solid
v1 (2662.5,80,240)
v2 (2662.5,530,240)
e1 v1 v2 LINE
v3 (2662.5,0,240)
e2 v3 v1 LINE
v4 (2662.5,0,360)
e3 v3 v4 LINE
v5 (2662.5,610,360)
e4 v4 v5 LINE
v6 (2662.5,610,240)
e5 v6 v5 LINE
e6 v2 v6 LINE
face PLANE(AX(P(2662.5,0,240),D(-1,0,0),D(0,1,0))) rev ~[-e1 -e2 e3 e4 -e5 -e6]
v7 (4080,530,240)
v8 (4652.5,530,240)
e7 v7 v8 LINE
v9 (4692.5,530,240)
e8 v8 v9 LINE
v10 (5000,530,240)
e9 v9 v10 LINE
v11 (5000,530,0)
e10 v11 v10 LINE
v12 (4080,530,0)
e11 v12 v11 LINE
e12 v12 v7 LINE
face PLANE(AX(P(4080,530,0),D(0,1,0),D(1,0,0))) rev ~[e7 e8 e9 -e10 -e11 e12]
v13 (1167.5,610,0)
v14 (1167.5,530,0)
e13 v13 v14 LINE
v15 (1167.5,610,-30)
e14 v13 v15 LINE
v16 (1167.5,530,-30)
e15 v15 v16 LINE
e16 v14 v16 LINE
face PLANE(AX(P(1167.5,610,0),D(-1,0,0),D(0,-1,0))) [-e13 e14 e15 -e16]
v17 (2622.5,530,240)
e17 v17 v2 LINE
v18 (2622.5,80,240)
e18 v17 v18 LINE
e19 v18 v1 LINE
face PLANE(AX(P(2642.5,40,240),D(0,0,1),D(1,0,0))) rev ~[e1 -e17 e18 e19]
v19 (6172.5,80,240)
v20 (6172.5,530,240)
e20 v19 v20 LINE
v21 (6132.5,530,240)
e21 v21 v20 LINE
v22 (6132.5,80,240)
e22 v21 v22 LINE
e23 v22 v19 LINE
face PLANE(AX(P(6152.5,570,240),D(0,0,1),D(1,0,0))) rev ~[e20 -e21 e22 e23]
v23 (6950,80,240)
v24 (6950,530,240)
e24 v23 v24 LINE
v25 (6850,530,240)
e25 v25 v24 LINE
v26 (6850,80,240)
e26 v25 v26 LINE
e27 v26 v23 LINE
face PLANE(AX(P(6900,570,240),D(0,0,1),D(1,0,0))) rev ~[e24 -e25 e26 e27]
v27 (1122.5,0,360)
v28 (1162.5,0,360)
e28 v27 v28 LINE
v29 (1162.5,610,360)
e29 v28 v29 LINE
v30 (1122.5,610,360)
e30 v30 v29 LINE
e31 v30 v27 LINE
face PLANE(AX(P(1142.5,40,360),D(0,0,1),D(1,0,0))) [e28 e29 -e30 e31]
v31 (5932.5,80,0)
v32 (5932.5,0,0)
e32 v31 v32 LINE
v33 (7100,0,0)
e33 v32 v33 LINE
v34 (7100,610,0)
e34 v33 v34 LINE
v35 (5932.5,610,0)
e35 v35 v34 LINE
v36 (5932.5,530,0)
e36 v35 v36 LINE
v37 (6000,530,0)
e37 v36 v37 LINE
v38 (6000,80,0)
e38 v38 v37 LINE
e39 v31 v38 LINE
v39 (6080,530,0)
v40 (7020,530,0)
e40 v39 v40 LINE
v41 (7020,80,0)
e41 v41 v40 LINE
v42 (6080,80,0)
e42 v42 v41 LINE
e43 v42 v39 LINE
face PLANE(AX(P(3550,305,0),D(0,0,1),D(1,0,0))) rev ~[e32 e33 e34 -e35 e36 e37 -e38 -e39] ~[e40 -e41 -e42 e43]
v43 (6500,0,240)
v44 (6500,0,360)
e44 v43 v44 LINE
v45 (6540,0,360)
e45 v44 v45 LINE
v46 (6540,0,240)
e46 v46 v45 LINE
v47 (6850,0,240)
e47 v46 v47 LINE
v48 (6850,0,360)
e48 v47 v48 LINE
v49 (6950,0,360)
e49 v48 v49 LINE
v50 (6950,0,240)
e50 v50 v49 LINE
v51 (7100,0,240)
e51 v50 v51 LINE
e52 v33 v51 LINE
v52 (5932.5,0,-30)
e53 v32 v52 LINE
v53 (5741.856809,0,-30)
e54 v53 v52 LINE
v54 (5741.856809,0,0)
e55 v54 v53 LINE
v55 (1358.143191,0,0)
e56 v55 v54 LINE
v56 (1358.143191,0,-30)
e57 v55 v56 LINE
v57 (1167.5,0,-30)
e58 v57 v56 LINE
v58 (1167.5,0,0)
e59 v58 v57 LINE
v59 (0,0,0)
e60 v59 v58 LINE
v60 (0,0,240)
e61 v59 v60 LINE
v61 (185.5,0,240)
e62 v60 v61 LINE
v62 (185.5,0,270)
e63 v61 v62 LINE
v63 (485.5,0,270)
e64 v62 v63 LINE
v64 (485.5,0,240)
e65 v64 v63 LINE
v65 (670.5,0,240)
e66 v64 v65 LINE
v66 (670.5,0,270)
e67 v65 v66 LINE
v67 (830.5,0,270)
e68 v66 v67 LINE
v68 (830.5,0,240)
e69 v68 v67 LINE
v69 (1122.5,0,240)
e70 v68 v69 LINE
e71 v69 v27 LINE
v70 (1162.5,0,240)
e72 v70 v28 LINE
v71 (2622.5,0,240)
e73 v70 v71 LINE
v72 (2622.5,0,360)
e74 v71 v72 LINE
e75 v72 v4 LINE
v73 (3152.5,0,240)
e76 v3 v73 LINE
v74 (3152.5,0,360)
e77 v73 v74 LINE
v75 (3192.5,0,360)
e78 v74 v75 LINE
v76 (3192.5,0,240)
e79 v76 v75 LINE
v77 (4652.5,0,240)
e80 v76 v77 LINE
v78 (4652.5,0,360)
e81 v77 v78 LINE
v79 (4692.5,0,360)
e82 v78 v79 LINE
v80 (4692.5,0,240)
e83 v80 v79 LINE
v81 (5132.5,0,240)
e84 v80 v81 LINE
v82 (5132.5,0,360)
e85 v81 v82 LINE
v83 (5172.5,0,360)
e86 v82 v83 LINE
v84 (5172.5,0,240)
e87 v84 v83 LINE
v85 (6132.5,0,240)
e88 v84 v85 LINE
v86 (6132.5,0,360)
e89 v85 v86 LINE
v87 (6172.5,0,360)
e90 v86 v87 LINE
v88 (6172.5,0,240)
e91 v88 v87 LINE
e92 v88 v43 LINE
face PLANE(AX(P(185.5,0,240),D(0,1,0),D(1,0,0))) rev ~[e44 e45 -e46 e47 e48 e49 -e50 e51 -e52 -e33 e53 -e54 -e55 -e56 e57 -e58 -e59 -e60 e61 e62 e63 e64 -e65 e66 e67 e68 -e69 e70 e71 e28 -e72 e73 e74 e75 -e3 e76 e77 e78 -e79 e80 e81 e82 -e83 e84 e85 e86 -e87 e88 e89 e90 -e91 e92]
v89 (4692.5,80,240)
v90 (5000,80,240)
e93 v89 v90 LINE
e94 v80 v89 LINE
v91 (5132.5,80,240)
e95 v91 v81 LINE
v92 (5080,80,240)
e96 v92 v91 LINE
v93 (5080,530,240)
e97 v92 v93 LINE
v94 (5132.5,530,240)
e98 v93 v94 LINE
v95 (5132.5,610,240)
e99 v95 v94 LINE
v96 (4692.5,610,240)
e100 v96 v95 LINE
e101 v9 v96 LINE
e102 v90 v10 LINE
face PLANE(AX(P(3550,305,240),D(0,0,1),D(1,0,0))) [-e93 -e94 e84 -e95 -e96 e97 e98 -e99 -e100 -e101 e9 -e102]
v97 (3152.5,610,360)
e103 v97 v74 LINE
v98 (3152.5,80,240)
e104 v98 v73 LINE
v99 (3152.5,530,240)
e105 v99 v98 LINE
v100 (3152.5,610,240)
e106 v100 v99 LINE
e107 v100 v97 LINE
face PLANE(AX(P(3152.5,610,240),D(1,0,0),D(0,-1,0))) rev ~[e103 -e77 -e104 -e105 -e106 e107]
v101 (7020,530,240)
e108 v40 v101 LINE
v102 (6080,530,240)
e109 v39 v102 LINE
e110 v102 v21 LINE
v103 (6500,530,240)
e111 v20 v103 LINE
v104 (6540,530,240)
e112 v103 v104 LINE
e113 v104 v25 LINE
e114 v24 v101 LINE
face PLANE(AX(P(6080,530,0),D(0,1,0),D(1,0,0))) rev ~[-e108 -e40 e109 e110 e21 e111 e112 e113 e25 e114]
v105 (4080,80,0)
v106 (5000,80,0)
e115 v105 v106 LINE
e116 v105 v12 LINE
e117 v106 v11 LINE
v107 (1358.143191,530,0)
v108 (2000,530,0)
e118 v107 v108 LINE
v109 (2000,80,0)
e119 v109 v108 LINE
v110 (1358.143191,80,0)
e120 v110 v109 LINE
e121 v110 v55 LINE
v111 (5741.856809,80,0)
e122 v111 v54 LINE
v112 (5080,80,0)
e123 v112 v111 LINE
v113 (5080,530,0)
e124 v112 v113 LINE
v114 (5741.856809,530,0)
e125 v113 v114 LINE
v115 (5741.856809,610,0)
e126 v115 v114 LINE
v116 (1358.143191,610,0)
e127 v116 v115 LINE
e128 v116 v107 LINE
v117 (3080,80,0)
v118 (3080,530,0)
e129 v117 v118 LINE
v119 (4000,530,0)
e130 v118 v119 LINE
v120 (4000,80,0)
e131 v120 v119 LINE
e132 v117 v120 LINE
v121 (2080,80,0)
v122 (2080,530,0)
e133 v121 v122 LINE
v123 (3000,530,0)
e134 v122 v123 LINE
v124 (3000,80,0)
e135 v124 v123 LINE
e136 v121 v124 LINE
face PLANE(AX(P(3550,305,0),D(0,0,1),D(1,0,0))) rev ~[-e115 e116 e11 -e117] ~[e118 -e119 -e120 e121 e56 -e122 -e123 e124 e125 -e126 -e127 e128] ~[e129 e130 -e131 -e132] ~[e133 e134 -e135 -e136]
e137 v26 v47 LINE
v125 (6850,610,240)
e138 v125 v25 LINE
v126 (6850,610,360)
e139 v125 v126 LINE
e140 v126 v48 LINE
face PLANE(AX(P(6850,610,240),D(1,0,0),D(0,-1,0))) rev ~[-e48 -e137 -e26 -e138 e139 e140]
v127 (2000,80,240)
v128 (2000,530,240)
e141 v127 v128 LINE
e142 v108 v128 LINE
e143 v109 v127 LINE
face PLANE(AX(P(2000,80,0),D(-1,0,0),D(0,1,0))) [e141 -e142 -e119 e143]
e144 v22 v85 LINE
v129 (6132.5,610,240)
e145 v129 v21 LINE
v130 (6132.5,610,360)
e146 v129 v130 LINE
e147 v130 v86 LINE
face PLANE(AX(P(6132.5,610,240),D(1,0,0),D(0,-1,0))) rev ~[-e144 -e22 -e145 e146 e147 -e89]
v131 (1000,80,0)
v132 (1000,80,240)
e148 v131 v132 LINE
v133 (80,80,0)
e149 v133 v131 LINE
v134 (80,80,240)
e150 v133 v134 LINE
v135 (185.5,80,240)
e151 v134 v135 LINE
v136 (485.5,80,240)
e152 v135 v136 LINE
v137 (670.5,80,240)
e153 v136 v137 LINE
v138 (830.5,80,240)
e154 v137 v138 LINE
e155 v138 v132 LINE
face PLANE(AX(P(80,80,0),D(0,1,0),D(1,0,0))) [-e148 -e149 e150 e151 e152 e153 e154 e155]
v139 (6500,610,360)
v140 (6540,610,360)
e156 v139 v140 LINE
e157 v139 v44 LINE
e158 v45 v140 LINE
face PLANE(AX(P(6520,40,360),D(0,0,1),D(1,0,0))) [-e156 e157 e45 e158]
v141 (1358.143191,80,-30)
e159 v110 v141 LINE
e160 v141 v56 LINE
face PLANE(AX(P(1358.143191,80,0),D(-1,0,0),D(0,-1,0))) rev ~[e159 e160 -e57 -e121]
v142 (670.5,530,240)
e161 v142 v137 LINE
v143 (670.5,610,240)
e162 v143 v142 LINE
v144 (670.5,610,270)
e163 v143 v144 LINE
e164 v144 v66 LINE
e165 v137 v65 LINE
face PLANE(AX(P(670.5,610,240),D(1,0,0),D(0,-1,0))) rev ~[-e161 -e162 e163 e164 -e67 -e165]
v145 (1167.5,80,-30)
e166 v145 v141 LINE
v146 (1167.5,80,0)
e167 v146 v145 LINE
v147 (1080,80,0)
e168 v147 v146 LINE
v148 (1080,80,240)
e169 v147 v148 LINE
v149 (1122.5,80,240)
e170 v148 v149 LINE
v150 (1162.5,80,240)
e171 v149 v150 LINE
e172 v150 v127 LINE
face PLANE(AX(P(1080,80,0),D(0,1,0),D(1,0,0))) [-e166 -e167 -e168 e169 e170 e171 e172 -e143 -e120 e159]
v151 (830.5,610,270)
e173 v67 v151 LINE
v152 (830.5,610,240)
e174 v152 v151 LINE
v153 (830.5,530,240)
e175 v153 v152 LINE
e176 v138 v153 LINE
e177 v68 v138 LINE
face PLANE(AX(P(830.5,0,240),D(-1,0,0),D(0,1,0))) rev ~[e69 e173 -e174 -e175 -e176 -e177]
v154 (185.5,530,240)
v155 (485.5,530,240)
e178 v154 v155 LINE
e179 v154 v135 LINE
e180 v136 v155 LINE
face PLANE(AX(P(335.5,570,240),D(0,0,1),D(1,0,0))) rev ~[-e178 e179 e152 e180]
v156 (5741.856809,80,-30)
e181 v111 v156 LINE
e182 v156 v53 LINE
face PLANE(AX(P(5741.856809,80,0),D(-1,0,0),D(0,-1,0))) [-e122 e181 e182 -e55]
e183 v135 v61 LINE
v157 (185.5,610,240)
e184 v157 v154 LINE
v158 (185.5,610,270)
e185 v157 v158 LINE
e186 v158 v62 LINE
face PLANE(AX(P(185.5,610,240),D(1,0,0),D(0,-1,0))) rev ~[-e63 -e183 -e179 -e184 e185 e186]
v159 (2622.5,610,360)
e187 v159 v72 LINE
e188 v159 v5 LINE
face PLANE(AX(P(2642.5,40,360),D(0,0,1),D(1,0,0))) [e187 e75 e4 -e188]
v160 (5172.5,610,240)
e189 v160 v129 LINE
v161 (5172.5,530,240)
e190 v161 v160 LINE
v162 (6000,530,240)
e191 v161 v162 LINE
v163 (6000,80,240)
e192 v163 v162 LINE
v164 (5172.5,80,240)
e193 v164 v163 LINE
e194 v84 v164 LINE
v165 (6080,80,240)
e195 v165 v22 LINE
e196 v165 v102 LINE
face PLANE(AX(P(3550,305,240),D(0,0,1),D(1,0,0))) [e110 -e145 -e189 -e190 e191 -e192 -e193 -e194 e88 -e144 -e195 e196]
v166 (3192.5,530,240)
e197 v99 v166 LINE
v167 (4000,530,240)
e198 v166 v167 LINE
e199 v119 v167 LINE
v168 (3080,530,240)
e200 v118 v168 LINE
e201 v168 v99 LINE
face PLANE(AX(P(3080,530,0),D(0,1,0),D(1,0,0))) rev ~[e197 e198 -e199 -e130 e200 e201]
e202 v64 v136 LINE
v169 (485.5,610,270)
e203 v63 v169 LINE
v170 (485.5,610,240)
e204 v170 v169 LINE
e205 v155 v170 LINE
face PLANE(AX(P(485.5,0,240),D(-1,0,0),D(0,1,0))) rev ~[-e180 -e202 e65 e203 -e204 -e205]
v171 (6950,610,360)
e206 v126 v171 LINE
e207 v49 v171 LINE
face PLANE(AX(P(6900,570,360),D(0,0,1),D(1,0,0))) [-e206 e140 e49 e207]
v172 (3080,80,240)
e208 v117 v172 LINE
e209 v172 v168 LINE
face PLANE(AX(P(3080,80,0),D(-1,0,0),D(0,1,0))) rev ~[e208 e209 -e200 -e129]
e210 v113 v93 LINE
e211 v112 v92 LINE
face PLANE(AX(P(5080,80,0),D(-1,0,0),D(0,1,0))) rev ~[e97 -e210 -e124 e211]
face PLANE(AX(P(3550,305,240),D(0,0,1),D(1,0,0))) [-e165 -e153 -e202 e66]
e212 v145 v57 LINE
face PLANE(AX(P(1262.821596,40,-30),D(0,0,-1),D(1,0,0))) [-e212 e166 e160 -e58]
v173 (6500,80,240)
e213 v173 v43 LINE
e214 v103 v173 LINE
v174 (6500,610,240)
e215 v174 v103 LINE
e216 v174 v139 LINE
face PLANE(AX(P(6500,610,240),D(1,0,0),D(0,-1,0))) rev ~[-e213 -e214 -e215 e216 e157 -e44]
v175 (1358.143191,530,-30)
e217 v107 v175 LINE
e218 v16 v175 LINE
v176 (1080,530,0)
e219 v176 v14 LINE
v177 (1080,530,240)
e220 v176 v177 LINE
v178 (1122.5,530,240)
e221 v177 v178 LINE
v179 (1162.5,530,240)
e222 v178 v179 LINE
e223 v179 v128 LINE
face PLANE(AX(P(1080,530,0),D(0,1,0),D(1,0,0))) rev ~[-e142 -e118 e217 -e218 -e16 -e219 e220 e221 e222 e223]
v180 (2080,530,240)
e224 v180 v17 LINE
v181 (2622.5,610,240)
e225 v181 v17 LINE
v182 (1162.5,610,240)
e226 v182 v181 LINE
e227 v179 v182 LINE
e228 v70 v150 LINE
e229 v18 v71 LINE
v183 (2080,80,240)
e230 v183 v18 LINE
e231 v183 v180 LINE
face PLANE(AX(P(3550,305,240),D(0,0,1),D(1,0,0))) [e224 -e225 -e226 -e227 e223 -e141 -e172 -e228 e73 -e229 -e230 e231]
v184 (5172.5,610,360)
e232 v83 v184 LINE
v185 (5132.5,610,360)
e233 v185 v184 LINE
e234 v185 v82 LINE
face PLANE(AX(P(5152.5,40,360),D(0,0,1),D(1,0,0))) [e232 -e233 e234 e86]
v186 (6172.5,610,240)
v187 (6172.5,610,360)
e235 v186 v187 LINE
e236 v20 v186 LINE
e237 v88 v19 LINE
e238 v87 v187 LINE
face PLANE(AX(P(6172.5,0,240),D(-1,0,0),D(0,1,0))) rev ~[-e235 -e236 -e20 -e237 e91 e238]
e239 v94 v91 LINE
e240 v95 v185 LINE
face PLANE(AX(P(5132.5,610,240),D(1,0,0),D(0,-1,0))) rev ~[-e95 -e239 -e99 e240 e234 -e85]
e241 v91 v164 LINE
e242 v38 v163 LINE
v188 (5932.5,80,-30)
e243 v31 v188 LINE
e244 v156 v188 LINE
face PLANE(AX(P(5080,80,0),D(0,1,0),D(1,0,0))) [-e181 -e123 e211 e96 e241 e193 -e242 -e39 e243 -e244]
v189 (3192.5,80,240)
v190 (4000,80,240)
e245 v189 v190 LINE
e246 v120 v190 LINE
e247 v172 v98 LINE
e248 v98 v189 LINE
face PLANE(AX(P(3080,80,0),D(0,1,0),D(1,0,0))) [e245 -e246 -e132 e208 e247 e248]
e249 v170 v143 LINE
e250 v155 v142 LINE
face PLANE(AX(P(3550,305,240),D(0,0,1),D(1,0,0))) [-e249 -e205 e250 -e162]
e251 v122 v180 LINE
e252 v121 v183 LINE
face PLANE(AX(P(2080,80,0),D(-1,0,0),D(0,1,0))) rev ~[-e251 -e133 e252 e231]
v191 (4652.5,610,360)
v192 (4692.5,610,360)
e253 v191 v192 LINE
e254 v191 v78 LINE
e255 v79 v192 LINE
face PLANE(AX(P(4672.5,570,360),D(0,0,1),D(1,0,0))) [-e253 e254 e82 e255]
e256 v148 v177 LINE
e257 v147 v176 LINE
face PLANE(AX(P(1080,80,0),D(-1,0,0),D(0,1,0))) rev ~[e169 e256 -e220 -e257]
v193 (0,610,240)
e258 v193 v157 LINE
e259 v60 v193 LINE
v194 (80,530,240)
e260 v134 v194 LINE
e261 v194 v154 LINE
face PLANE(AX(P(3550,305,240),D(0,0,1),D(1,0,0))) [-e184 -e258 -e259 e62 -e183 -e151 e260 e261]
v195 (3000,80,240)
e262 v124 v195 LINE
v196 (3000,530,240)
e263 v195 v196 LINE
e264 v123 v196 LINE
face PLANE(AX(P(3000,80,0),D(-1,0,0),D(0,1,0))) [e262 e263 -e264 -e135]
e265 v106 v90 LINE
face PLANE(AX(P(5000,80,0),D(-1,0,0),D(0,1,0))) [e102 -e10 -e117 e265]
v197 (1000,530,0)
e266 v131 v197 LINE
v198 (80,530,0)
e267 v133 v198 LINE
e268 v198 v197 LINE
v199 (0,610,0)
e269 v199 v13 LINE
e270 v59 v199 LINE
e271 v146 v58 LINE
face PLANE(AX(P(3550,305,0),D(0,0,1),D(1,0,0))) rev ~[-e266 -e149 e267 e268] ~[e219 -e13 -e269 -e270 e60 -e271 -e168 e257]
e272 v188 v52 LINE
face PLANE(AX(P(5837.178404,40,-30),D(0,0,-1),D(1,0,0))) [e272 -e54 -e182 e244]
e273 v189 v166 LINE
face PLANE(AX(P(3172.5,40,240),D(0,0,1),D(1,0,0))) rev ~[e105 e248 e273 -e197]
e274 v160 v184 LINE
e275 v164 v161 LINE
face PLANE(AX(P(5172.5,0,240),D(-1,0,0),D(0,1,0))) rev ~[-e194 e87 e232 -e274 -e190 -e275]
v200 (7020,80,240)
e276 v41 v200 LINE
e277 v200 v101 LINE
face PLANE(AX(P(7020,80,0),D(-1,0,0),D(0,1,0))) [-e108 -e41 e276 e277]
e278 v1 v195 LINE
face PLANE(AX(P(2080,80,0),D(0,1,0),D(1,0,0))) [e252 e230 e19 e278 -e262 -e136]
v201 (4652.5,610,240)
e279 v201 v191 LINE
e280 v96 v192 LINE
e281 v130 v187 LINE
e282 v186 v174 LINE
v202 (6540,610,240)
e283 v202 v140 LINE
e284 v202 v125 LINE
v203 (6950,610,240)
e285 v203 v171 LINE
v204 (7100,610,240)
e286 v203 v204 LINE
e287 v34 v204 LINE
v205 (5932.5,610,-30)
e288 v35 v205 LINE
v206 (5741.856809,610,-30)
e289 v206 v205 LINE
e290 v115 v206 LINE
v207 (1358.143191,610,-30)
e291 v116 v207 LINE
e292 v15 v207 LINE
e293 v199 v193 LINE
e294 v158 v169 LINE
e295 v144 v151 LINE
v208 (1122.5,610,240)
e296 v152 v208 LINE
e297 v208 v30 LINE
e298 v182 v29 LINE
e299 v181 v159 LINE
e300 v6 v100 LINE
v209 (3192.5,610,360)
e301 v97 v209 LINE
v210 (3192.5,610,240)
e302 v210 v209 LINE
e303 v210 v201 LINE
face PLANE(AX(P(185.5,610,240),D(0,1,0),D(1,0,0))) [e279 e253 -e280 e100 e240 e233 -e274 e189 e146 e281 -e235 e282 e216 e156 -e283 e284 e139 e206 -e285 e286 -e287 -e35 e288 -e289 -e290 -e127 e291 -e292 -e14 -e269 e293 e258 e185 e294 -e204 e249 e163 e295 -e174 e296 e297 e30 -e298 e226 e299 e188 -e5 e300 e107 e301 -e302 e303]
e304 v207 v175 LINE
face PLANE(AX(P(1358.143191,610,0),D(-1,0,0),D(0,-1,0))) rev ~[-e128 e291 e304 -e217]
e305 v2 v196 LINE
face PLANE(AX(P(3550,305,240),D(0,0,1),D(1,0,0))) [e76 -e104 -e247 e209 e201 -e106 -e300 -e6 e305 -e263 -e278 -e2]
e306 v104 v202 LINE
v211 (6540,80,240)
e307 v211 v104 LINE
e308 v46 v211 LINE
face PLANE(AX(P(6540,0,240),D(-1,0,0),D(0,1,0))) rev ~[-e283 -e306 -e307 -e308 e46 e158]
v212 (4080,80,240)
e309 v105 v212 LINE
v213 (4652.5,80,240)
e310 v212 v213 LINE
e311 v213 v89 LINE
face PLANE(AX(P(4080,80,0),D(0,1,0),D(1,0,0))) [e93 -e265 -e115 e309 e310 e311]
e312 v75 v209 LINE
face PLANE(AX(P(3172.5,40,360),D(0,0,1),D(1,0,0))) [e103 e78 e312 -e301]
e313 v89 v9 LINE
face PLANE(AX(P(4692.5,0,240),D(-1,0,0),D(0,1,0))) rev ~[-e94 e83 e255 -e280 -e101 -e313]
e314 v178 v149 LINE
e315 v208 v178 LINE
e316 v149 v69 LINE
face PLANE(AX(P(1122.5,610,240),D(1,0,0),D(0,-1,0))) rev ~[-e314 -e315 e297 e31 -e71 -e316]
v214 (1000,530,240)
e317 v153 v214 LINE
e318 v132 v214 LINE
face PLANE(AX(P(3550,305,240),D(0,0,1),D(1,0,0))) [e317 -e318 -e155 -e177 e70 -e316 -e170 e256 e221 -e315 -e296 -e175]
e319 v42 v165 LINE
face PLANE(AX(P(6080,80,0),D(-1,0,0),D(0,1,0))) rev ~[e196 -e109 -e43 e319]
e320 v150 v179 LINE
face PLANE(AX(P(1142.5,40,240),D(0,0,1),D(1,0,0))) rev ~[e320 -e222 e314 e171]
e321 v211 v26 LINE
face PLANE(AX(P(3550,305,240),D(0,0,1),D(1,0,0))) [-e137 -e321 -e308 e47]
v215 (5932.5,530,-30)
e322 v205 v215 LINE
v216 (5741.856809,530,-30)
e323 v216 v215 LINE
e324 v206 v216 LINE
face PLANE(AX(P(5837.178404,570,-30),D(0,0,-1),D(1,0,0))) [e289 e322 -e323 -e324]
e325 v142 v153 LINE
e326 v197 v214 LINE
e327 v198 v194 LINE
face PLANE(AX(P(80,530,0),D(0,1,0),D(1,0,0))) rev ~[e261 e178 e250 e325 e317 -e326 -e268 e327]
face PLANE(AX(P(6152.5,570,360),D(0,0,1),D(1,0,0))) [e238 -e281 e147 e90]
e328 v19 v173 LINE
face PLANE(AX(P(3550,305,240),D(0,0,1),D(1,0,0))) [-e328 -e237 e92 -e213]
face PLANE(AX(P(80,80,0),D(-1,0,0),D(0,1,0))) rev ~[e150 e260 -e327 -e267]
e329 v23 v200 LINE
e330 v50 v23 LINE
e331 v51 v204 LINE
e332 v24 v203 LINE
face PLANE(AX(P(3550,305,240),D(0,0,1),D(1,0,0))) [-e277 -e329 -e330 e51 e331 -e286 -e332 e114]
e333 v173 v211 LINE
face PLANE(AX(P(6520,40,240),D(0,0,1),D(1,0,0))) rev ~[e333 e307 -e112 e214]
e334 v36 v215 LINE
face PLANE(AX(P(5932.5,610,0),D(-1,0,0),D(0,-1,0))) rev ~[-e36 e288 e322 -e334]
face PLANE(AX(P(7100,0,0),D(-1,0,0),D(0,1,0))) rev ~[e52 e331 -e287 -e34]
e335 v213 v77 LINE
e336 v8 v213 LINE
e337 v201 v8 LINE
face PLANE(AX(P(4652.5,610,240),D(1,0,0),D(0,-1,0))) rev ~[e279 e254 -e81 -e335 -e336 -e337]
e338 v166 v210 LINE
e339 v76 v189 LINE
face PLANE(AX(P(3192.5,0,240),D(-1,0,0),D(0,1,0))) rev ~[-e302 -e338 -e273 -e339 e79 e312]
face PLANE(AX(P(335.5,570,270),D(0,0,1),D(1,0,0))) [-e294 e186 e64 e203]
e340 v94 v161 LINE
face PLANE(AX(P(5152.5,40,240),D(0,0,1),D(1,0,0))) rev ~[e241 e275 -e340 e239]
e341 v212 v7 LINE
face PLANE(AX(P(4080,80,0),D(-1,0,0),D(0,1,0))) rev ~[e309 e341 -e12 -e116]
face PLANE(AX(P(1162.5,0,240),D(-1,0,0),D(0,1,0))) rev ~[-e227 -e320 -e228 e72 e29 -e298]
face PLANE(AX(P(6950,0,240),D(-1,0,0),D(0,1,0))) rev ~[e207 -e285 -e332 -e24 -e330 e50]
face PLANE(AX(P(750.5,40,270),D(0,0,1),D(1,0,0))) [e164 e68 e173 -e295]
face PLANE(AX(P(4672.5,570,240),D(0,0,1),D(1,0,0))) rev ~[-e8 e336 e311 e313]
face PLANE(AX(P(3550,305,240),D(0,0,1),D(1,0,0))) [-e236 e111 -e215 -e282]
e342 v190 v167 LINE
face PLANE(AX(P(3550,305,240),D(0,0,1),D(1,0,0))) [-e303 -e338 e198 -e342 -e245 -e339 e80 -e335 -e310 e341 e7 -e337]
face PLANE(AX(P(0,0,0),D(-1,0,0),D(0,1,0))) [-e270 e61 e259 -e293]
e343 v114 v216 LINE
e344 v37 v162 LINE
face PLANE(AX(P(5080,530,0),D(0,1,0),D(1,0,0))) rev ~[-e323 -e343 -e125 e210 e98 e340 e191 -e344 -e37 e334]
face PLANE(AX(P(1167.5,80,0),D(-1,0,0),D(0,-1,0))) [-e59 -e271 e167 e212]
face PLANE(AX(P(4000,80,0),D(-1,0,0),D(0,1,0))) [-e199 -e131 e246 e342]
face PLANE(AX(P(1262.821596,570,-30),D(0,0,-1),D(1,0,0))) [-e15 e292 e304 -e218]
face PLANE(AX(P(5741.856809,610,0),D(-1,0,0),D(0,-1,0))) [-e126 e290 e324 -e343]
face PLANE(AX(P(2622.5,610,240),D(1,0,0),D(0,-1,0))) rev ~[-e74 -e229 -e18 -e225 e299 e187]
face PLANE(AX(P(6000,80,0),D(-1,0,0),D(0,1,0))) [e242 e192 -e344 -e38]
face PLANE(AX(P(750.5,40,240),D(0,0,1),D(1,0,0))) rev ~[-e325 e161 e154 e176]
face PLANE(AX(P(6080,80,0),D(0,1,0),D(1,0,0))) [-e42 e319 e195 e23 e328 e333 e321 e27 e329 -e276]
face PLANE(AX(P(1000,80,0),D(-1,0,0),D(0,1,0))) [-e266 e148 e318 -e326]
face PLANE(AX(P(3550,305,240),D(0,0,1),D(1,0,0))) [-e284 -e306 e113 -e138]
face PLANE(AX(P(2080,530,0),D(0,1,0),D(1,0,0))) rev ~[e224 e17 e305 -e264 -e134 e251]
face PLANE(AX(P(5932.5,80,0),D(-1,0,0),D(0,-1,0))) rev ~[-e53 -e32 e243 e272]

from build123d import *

# Parameters (mm, degrees)
F0_W     = 7100
F0_H     = 610
F0_W_2   = 920
F0_H_2   = 450
F0_W_3   = 940
F1_DEPTH = 240
F2_W     = 190.6431913376
F2_H     = 80
F3_DEPTH = 30
F4_W     = 100
F4_H     = 80
F4_H_2   = 450
F4_W_2   = 40
F5_DEPTH = 120
F4_W_3   = 300
F4_W_4   = 160
F6_DEPTH = 30


with BuildPart() as f1:
    # F0 (on Top) → F1 (new body)
    with BuildSketch(Plane.XY):
        with Locations((3550, 305)):
            Rectangle(F0_W, F0_H)
        with Locations((540, 305)):
            Rectangle(F0_W_2, F0_H_2, mode=Mode.SUBTRACT)
        with Locations((1540, 305)):
            Rectangle(F0_W_2, F0_H_2, mode=Mode.SUBTRACT)
        with Locations((2540, 305)):
            Rectangle(F0_W_2, F0_H_2, mode=Mode.SUBTRACT)
        with Locations((3540, 305)):
            Rectangle(F0_W_2, F0_H_2, mode=Mode.SUBTRACT)
        with Locations((4540, 305)):
            Rectangle(F0_W_2, F0_H_2, mode=Mode.SUBTRACT)
        with Locations((5540, 305)):
            Rectangle(F0_W_2, F0_H_2, mode=Mode.SUBTRACT)
        with Locations((6550, 305)):
            Rectangle(F0_W_3, F0_H_2, mode=Mode.SUBTRACT)
    extrude(amount=F1_DEPTH)

    # F2 (on face) → F3 (join)
    with BuildSketch(Plane(origin=(0, 0, 0), x_dir=(1, 0, 0), z_dir=(0, 0, -1))):
        with Locations((1262.8215956688, -40)):
            Rectangle(F2_W, F2_H)
        with Locations((1262.8215956688, -570)):
            Rectangle(F2_W, F2_H)
        with Locations((5837.1784043312, -570)):
            Rectangle(F2_W, F2_H)
        with Locations((5837.1784043312, -40)):
            Rectangle(F2_W, F2_H)
    extrude(amount=F3_DEPTH)

    # F4 (on face) → F5 (join)
    with BuildSketch(Plane.XY.offset(240)):
        with Locations((6900, 570)):
            Rectangle(F4_W, F4_H)
        with Locations((6900, 305)):
            Rectangle(F4_W, F4_H_2)
        with Locations((6900, 40)):
            Rectangle(F4_W, F4_H)
        with Locations((6520, 40)):
            Rectangle(F4_W_2, F4_H)
        with Locations((6520, 305)):
            Rectangle(F4_W_2, F4_H_2)
        with Locations((6520, 570)):
            Rectangle(F4_W_2, F4_H)
        with Locations((6152.5, 570)):
            Rectangle(F4_W_2, F4_H)
        with Locations((6152.5, 305)):
            Rectangle(F4_W_2, F4_H_2)
        with Locations((6152.5, 40)):
            Rectangle(F4_W_2, F4_H)
        with Locations((5152.5, 40)):
            Rectangle(F4_W_2, F4_H)
        with Locations((5152.5, 305)):
            Rectangle(F4_W_2, F4_H_2)
        with Locations((5152.5, 570)):
            Rectangle(F4_W_2, F4_H)
        with Locations((4672.5, 570)):
            Rectangle(F4_W_2, F4_H)
        with Locations((4672.5, 305)):
            Rectangle(F4_W_2, F4_H_2)
        with Locations((4672.5, 40)):
            Rectangle(F4_W_2, F4_H)
        with Locations((3172.5, 40)):
            Rectangle(F4_W_2, F4_H)
        with Locations((3172.5, 305)):
            Rectangle(F4_W_2, F4_H_2)
        with Locations((3172.5, 570)):
            Rectangle(F4_W_2, F4_H)
        with Locations((2642.5, 40)):
            Rectangle(F4_W_2, F4_H)
        with Locations((2642.5, 305)):
            Rectangle(F4_W_2, F4_H_2)
        with Locations((2642.5, 570)):
            Rectangle(F4_W_2, F4_H)
        with Locations((1142.5, 40)):
            Rectangle(F4_W_2, F4_H)
        with Locations((1142.5, 305)):
            Rectangle(F4_W_2, F4_H_2)
        with Locations((1142.5, 570)):
            Rectangle(F4_W_2, F4_H)
    extrude(amount=F5_DEPTH)

    # F4 (on face) → F6 (join)
    with BuildSketch(Plane.XY.offset(240)):
        with Locations((335.5, 570)):
            Rectangle(F4_W_3, F4_H)
        with Locations((335.5, 305)):
            Rectangle(F4_W_3, F4_H_2)
        with Locations((335.5, 40)):
            Rectangle(F4_W_3, F4_H)
        with Locations((750.5, 40)):
            Rectangle(F4_W_4, F4_H)
        with Locations((750.5, 305)):
            Rectangle(F4_W_4, F4_H_2)
        with Locations((750.5, 570)):
            Rectangle(F4_W_4, F4_H)
    extrude(amount=F6_DEPTH)


solid = f1.part
